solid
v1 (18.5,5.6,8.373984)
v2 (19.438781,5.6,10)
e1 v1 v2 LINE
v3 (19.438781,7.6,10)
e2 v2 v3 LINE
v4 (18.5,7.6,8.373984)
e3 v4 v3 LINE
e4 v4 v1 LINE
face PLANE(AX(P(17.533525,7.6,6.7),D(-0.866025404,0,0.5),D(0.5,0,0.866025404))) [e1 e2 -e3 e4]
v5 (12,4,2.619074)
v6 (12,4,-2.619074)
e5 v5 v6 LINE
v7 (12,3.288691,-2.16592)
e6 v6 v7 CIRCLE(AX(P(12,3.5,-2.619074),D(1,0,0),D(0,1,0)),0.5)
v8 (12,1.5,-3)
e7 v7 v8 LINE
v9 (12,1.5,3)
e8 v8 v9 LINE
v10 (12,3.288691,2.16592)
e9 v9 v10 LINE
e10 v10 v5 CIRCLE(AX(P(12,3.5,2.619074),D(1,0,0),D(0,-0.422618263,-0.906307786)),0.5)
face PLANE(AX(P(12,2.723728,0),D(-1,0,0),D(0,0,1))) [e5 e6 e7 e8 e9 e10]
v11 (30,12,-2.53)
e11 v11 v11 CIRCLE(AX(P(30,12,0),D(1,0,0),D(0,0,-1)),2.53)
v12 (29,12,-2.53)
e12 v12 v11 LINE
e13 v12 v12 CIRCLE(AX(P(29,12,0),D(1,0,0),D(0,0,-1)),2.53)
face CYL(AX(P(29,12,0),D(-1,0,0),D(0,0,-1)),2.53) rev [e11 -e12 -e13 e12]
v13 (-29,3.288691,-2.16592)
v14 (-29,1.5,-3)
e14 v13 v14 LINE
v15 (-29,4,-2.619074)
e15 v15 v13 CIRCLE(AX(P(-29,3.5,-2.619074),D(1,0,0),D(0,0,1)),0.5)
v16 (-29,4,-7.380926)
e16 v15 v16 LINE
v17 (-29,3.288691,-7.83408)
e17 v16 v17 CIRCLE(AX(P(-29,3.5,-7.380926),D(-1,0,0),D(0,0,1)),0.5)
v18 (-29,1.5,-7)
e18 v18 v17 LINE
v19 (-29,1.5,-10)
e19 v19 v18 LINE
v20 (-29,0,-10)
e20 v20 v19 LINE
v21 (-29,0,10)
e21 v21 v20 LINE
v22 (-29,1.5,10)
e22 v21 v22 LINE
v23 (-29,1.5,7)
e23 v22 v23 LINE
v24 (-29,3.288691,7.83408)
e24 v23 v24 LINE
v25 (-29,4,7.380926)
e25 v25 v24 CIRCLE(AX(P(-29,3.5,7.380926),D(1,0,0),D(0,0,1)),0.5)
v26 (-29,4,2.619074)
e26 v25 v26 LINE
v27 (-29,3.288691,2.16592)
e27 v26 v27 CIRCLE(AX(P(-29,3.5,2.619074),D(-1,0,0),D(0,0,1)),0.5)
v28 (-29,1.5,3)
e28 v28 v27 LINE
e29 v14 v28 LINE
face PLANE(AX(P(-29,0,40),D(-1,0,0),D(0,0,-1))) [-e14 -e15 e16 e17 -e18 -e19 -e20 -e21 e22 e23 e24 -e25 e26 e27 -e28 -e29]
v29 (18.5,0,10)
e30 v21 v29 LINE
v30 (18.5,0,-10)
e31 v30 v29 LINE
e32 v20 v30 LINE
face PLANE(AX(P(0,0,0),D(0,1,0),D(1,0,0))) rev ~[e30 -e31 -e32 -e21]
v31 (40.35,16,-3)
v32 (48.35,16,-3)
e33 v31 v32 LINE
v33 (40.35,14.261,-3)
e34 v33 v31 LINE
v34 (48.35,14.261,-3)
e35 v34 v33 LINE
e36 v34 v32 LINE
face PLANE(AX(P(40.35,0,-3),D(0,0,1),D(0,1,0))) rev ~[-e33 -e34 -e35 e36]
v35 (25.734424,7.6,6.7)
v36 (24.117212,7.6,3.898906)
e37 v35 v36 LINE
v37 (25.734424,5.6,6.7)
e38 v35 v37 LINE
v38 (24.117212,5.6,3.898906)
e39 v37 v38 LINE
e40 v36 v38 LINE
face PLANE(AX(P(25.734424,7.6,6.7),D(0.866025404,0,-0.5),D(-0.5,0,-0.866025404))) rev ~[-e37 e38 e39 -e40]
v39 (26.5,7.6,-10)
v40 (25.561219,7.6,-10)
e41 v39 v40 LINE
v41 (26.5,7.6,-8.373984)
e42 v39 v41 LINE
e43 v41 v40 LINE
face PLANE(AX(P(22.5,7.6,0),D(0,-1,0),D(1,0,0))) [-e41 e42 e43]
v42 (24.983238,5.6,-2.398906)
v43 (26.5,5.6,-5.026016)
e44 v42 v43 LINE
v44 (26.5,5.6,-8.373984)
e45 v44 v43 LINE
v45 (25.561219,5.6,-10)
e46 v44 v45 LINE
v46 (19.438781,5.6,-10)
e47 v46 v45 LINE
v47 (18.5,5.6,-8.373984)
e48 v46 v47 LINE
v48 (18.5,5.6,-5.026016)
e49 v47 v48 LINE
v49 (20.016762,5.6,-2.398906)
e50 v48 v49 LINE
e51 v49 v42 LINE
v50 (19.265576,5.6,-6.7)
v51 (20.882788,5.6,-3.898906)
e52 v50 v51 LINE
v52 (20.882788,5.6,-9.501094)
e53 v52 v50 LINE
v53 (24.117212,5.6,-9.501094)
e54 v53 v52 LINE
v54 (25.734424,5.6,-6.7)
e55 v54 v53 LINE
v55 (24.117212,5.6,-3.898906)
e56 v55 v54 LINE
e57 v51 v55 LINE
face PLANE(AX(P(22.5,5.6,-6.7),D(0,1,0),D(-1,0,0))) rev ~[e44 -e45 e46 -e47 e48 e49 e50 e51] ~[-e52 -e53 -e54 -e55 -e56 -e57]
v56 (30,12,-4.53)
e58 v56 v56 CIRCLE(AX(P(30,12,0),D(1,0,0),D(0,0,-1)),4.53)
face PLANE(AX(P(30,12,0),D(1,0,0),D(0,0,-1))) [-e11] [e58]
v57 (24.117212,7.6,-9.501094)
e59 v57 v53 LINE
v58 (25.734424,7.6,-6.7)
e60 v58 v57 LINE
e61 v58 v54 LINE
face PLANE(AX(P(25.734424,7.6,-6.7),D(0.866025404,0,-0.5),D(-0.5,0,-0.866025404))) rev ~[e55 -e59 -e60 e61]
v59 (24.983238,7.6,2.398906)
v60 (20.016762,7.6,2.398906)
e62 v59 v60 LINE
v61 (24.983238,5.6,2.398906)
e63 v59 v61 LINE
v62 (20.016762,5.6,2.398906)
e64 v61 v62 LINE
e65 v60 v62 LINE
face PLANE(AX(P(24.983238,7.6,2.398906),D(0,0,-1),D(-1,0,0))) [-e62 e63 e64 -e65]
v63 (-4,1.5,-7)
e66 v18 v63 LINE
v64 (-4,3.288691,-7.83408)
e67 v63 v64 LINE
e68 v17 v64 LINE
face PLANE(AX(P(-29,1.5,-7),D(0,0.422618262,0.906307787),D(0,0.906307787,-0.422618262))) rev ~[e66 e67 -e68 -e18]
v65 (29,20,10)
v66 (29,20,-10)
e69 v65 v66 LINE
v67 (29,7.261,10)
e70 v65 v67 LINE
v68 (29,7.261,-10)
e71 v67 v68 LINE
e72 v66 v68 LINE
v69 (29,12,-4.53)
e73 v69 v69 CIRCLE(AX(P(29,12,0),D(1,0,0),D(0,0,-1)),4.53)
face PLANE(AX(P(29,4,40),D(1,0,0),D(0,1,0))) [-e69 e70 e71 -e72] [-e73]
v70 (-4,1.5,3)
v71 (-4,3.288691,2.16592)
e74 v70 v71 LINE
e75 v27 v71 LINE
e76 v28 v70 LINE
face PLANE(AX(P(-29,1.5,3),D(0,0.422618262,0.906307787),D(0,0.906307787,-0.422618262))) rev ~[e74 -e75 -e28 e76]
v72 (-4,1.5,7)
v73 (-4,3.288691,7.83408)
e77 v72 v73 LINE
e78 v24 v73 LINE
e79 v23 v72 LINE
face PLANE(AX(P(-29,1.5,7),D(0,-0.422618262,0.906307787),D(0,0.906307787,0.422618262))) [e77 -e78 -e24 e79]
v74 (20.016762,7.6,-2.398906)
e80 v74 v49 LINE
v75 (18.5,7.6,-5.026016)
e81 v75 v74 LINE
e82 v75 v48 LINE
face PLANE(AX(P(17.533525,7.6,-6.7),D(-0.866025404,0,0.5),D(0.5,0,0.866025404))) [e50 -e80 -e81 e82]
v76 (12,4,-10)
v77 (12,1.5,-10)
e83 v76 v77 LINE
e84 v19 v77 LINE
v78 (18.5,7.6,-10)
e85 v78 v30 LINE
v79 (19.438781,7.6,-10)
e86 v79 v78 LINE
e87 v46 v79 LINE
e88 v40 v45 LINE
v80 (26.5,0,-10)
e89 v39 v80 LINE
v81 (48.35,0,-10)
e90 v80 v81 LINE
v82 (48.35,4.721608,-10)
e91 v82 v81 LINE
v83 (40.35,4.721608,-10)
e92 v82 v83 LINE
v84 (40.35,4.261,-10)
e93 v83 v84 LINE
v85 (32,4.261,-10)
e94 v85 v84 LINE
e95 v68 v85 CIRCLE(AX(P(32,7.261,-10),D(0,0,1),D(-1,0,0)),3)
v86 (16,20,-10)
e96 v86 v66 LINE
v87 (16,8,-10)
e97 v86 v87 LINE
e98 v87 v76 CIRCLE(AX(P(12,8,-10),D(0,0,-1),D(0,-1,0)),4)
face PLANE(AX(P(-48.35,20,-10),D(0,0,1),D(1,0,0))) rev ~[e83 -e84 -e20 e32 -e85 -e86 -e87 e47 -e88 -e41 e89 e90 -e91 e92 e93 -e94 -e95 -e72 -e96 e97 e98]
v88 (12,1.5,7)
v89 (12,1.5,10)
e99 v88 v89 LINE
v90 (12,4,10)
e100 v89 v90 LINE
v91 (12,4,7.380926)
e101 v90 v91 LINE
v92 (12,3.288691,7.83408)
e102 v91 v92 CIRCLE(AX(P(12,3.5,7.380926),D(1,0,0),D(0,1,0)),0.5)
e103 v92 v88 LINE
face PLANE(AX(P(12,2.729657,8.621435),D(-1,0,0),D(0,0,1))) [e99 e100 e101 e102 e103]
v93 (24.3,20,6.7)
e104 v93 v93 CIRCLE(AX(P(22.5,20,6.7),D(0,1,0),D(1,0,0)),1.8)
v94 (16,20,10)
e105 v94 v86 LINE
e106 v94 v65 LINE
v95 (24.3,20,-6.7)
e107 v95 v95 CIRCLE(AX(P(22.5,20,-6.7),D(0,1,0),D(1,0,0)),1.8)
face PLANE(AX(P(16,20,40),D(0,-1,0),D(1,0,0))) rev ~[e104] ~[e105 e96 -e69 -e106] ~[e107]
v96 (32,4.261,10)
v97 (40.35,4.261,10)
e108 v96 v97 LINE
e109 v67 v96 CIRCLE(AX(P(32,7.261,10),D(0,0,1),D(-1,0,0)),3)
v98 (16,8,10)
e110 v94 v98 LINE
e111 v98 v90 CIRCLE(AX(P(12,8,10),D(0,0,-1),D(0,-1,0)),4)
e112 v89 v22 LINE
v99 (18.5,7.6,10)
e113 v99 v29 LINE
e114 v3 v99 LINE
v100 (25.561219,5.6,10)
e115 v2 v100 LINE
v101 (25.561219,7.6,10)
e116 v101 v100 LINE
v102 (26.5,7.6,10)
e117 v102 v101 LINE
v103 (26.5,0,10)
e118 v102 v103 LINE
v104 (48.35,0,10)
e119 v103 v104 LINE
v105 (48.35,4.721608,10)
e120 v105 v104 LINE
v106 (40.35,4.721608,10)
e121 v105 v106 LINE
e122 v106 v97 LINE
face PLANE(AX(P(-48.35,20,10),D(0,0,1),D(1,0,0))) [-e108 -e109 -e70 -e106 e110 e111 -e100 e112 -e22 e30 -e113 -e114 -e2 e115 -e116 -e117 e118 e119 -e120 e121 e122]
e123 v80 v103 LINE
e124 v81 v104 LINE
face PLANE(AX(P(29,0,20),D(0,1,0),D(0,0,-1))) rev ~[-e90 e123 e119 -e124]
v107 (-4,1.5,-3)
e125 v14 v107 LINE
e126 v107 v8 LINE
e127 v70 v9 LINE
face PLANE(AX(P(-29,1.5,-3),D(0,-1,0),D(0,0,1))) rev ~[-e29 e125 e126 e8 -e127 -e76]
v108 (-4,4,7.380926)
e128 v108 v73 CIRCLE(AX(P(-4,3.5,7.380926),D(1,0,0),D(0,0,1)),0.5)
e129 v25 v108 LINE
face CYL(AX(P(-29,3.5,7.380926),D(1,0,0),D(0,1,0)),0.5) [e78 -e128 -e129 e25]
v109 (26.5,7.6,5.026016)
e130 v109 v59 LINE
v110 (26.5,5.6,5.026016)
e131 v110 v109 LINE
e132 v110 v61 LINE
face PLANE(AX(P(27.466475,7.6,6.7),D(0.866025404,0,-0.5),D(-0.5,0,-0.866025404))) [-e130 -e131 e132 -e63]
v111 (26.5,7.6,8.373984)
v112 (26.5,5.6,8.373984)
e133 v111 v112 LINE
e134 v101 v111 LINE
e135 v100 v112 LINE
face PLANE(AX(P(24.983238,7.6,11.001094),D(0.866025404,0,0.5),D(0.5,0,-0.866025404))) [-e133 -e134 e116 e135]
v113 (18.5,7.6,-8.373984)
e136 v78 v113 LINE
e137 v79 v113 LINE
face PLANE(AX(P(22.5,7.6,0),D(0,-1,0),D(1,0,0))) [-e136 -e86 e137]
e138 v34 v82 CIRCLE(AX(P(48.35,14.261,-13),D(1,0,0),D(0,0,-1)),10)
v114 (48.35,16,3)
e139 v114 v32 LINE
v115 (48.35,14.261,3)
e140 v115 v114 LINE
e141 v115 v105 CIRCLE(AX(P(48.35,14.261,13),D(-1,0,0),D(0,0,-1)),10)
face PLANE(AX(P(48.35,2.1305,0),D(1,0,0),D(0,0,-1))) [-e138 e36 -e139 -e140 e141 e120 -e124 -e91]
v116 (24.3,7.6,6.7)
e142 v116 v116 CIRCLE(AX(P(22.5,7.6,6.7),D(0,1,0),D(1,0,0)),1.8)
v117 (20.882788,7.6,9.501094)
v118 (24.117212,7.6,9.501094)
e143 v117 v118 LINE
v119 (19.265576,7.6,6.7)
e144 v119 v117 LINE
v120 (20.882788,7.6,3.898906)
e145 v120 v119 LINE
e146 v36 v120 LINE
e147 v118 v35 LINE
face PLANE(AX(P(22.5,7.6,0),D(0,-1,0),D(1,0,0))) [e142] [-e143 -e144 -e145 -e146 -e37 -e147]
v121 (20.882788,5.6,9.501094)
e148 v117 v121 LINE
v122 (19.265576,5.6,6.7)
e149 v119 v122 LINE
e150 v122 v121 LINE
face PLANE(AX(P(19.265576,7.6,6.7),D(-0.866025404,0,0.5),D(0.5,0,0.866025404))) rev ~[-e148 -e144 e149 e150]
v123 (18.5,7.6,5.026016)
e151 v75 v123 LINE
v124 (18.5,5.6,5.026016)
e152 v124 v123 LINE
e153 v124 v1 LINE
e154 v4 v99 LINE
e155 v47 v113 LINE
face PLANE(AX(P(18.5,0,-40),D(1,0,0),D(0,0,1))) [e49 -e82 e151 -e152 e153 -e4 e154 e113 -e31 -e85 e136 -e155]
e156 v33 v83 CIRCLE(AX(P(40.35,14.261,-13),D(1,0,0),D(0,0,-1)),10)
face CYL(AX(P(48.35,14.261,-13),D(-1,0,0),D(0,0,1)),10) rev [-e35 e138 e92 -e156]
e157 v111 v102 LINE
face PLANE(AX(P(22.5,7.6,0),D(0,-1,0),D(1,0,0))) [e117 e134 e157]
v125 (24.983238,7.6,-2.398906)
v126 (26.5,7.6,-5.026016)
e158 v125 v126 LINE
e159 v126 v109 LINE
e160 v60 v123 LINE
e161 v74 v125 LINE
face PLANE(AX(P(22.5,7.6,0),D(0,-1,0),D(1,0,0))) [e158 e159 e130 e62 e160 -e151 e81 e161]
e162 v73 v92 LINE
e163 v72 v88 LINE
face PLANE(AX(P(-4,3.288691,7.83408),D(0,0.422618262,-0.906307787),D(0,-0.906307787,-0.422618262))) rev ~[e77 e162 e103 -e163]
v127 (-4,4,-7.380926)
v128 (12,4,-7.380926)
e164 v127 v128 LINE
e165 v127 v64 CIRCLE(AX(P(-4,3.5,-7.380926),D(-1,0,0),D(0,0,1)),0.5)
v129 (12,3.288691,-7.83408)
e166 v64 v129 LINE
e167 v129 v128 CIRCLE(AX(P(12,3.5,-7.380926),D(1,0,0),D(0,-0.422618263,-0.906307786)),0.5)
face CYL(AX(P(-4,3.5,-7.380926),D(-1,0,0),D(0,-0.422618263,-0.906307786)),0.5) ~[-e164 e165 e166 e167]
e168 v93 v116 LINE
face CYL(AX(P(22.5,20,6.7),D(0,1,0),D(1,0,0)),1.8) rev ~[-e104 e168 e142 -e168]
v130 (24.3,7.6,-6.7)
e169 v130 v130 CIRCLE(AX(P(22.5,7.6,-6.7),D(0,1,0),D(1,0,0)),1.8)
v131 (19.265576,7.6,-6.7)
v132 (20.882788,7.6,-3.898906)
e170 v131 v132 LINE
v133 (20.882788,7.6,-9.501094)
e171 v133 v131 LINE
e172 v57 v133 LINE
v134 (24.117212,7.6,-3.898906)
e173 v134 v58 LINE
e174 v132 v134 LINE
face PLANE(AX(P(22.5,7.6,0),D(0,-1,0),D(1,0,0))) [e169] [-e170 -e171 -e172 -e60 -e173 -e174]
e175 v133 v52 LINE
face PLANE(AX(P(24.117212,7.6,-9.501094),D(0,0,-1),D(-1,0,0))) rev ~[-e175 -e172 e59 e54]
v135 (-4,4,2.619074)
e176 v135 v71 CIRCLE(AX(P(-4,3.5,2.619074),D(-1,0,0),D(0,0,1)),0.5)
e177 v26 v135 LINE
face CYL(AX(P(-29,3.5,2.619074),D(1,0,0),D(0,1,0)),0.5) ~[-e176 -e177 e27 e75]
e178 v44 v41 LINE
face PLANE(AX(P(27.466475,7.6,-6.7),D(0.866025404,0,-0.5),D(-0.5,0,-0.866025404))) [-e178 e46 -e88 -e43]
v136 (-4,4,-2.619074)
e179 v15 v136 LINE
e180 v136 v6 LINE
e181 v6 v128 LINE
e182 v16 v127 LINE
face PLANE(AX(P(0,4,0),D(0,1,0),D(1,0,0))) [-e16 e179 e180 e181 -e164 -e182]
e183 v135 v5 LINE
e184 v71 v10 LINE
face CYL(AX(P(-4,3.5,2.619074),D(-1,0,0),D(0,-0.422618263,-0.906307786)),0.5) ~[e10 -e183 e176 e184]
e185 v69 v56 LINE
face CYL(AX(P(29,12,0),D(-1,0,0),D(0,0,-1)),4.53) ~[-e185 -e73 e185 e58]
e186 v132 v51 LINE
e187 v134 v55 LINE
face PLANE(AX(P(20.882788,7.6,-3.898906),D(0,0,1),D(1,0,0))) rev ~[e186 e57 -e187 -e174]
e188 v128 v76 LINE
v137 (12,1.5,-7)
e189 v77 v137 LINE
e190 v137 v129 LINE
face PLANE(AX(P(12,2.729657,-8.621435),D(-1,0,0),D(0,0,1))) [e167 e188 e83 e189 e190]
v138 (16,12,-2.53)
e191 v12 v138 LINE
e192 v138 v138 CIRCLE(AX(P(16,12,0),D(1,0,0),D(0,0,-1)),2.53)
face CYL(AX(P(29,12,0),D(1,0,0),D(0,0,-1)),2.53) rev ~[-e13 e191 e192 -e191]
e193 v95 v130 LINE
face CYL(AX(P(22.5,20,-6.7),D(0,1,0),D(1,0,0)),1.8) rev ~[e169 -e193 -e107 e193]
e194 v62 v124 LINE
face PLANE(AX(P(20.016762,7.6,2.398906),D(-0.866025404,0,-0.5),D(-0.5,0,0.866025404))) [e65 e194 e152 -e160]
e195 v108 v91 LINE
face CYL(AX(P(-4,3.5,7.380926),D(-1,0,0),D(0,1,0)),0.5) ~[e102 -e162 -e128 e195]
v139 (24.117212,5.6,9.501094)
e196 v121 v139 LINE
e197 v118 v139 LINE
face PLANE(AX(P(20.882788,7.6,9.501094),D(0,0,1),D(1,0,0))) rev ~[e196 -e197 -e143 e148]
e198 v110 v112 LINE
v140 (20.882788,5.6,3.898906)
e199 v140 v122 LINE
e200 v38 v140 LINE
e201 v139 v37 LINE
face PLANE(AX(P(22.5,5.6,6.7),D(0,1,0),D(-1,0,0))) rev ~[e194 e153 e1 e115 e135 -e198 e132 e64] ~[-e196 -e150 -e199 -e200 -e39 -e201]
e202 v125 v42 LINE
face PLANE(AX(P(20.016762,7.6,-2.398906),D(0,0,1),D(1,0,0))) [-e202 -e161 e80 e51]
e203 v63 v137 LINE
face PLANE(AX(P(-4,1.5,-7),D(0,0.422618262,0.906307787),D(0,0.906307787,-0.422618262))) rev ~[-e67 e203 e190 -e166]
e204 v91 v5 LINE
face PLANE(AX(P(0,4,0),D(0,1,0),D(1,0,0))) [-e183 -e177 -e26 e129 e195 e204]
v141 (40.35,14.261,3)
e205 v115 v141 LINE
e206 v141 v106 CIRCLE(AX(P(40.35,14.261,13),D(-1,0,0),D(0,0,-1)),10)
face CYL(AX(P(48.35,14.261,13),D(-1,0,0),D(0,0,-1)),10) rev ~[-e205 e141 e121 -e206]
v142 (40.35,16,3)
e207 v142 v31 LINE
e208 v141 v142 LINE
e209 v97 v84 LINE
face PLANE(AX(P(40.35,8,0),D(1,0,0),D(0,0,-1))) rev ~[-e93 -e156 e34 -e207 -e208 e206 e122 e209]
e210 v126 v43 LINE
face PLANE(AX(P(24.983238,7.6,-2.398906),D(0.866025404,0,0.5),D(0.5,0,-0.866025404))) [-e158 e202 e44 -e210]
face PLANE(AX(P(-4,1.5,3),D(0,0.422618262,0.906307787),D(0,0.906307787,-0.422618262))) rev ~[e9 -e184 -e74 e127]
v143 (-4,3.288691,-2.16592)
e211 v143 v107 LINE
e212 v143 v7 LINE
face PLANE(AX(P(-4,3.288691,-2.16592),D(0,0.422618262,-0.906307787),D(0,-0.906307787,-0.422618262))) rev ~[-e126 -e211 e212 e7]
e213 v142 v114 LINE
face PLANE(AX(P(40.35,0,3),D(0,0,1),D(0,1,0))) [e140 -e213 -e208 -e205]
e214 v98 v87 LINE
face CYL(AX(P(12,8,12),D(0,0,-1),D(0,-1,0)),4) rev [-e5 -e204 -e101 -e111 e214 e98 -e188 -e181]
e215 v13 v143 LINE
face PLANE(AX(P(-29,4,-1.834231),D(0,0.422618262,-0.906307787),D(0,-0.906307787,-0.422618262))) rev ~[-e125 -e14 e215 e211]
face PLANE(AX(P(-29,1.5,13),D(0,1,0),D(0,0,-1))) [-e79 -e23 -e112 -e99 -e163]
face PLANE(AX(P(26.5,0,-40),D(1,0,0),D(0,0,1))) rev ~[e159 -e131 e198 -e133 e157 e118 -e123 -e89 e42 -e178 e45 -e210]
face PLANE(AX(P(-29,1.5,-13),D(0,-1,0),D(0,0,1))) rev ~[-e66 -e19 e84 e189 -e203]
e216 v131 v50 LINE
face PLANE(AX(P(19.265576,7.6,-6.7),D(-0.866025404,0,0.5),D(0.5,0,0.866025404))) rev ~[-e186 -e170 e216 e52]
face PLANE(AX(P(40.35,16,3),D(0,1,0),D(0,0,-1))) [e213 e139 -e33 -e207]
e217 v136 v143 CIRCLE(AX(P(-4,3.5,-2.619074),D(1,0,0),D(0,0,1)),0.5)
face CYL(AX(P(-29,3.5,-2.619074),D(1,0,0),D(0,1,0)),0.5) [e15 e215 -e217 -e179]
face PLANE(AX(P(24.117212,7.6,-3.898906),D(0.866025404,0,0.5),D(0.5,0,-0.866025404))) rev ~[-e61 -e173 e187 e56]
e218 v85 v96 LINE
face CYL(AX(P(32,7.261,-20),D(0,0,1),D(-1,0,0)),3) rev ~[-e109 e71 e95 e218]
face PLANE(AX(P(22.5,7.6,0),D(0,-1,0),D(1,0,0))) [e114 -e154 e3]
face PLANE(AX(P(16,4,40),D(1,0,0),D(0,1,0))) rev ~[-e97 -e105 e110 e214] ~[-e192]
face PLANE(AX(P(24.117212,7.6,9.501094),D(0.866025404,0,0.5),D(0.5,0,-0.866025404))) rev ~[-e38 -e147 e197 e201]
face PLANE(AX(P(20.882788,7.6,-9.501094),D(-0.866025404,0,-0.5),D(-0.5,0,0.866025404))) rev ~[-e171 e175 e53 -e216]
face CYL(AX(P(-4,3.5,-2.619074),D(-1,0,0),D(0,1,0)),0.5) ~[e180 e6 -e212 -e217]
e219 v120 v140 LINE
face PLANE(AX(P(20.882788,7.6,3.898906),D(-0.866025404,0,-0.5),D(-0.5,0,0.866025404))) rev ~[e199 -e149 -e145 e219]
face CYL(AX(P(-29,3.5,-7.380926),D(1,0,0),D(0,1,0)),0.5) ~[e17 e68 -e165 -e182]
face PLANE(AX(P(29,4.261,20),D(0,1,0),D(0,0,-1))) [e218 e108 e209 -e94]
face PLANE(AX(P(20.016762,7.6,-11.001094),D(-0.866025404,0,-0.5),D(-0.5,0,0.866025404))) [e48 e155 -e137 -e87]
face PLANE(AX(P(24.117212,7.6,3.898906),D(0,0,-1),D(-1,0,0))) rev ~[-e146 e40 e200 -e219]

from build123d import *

# Parameters (mm, degrees)
SKETCH1_W            = 58
SKETCH1_H            = 80
BOSS_EXTRUDE1_DEPTH  = 4
CUT_EXTRUDE1_DEPTH   = 25
SKETCH5_W            = 13
SKETCH5_H            = 16
BOSS_EXTRUDE3_DEPTH  = 80
SKETCH6_R            = 2.53
CUT_EXTRUDE2_DEPTH   = 59
SKETCH7_R            = 4.53
SKETCH7_R_2          = 2.53
BOSS_EXTRUDE4_DEPTH  = 1
SKETCH8_R            = 1.8
CUT_EXTRUDE3_DEPTH   = 21
SKETCH9_W            = 8
SKETCH9_H            = 80
CUT_EXTRUDE4_DEPTH   = 7.6
SKETCH13_W           = 6
SKETCH13_H           = 4.261
BOSS_EXTRUDE6_DEPTH  = 11.35
SKETCH14_W           = 6
SKETCH14_H           = 16
BOSS_EXTRUDE7_DEPTH  = 8
SKETCH15_W           = 40
SKETCH15_H           = 4.261
BOSS_EXTRUDE8_DEPTH  = 19.35
FILLET1_R            = 10
FILLET2_R            = 3
FILLET3_R            = 3
SKETCH17_W           = 17
SKETCH17_H           = 24
CUT_EXTRUDE6_DEPTH   = 5
FILLET4_R            = 14
FILLET5_R            = 4
FILLET6_R            = 2
FILLET7_R            = 0.5
BOSS_EXTRUDE10_DEPTH = 2
SKETCH19_W           = 58
SKETCH19_H           = 5.571501033
SKETCH19_H_2         = 14.101029475
CUT_EXTRUDE7_DEPTH   = 21
SKETCH20_W           = 96.7
SKETCH20_H           = 30
CUT_EXTRUDE8_DEPTH   = 21.0000001
CUT_EXTRUDE9_DEPTH   = 16


with BuildPart() as part:
    # Sketch1 → Boss-Extrude1 (new body)
    with BuildSketch(Plane(origin=(0, 0, 0), x_dir=(1, 0, 0), z_dir=(0, 1, 0))):
        Rectangle(SKETCH1_W, SKETCH1_H)
    extrude(amount=BOSS_EXTRUDE1_DEPTH)

    # Sketch2 → Cut-Extrude1 (cut)
    with BuildSketch(Plane.ZY.offset(29)):
        Polygon((1.834230855, 4), (-1.834230855, 4), (-3, 1.5), (3, 1.5), align=None)
        Polygon((8.165769145, 4), (11.834230855, 4), (13, 1.5), (7, 1.5), align=None)
        Polygon((-7, 1.5), (-8.165769145, 4), (-11.834230855, 4), (-13, 1.5), align=None)
    extrude(amount=-CUT_EXTRUDE1_DEPTH, mode=Mode.SUBTRACT)

    # Sketch5 → Boss-Extrude3 (add)
    with BuildSketch(Plane.XY.offset(40)):
        with Locations((22.5, 12)):
            Rectangle(SKETCH5_W, SKETCH5_H)
    extrude(amount=-BOSS_EXTRUDE3_DEPTH)

    # Sketch6 → Cut-Extrude2 (cut, through all)
    with BuildSketch(Plane(origin=(29, 0, 0), x_dir=(0, 0, -1), z_dir=(1, 0, 0))):
        with Locations((0, 12)):
            Circle(SKETCH6_R)
    extrude(amount=-CUT_EXTRUDE2_DEPTH, mode=Mode.SUBTRACT)

    # Sketch7 → Boss-Extrude4 (add)
    with BuildSketch(Plane(origin=(29, 0, 0), x_dir=(0, 0, -1), z_dir=(1, 0, 0))):
        with Locations((0, 12)):
            Circle(SKETCH7_R)
        with Locations((0, 12)):
            Circle(SKETCH7_R_2, mode=Mode.SUBTRACT)
    extrude(amount=BOSS_EXTRUDE4_DEPTH)

    # Sketch8 → Cut-Extrude3 (cut, through all)
    with BuildSketch(Plane(origin=(0, 20, 0), x_dir=(1, 0, 0), z_dir=(0, 1, 0))):
        with Locations((22.5, 6.7)):
            Circle(SKETCH8_R)
        with Locations((22.5, -6.7)):
            Circle(SKETCH8_R)
    extrude(amount=-CUT_EXTRUDE3_DEPTH, mode=Mode.SUBTRACT)

    # Sketch9 → Cut-Extrude4 (cut)
    with BuildSketch(Plane.XZ):
        with Locations((22.5, 0)):
            Rectangle(SKETCH9_W, SKETCH9_H)
    extrude(amount=-CUT_EXTRUDE4_DEPTH, mode=Mode.SUBTRACT)

    # Sketch13 → Boss-Extrude6 (add)
    with BuildSketch(Plane(origin=(29, 0, 0), x_dir=(0, 0, -1), z_dir=(1, 0, 0))):
        with Locations((0, 2.1305)):
            Rectangle(SKETCH13_W, SKETCH13_H)
    extrude(amount=BOSS_EXTRUDE6_DEPTH)

    # Sketch14 → Boss-Extrude7 (add)
    with BuildSketch(Plane(origin=(40.35, 0, 0), x_dir=(0, 0, -1), z_dir=(1, 0, 0))):
        with Locations((0, 8)):
            Rectangle(SKETCH14_W, SKETCH14_H)
    extrude(amount=BOSS_EXTRUDE7_DEPTH)

    # Sketch15 → Boss-Extrude8 (add)
    with BuildSketch(Plane(origin=(29, 0, 0), x_dir=(0, 0, -1), z_dir=(1, 0, 0))):
        with Locations((0, 2.1305)):
            Rectangle(SKETCH15_W, SKETCH15_H)
    extrude(amount=BOSS_EXTRUDE8_DEPTH)

    # Fillet1
    fillet1_edges = [part.edges().sort_by_distance(p)[0] for p in [
        (44.35, 4.261, 3),
        (44.35, 4.261, -3),
    ]]
    fillet(fillet1_edges, radius=FILLET1_R)

    # Fillet2
    fillet2_edges = [part.edges().sort_by_distance(p)[0] for p in [
        (29, 4.261, 0),
    ]]
    fillet(fillet2_edges, radius=FILLET2_R)

    # Fillet3
    fillet3_edges = [part.edges().sort_by_distance(p)[0] for p in [
        (29, 2.1305, -20),
        (29, 2.1305, 20),
    ]]
    fillet(fillet3_edges, radius=FILLET3_R)

    # Sketch17 → Cut-Extrude6 (cut, through all)
    with BuildSketch(Plane(origin=(0, 4, 0), x_dir=(1, 0, 0), z_dir=(0, 1, 0))):
        with Locations((7.5, -24)):
            Rectangle(SKETCH17_W, SKETCH17_H)
        with Locations((7.5, 24)):
            Rectangle(SKETCH17_W, SKETCH17_H)
    extrude(amount=-CUT_EXTRUDE6_DEPTH, mode=Mode.SUBTRACT)

    # Fillet4
    fillet4_edges = [part.edges().sort_by_distance(p)[0] for p in [
        (16, 4, 38),
        (16, 4, -38),
    ]]
    fillet(fillet4_edges, radius=FILLET4_R)

    # Fillet5
    fillet5_edges = [part.edges().sort_by_distance(p)[0] for p in [
        (16, 4, 0),
    ]]
    fillet(fillet5_edges, radius=FILLET5_R)

    # Fillet6
    fillet6_edges = [part.edges().sort_by_distance(p)[0] for p in [
        (16, 6, 12),
        (16, 11, 36),
        (16, 11, -36),
        (16, 6, -12),
    ]]
    fillet(fillet6_edges, radius=FILLET6_R)

    # Fillet7
    fillet7_edges = [part.edges().sort_by_distance(p)[0] for p in [
        (-16.5, 4, -11.834230855),
        (-16.5, 4, -8.165769145),
        (-16.5, 4, 8.165769145),
        (-16.5, 4, 11.834230855),
        (-16.5, 4, 1.834230855),
        (-16.5, 4, -1.834230855),
    ]]
    fillet(fillet7_edges, radius=FILLET7_R)

    # Sketch18 → Boss-Extrude10 (add)
    with BuildSketch(Plane.XZ.offset(-7.6)):
        Polygon((20.016762412, 40.30109367), (24.983237588, 40.30109367), (27.466475177, 36), (24.983237588, 31.69890633), (20.016762412, 31.69890633), (17.533524823, 36), align=None)
        Polygon((20.882787815, 38.80109367), (24.117212185, 38.80109367), (25.734424369, 36), (24.117212185, 33.19890633), (20.882787815, 33.19890633), (19.265575631, 36), align=None, mode=Mode.SUBTRACT)
        Polygon((20.016762412, 11.00109367), (24.983237588, 11.00109367), (27.466475177, 6.7), (24.983237588, 2.39890633), (20.016762412, 2.39890633), (17.533524823, 6.7), align=None)
        Polygon((20.882787815, 9.50109367), (24.117212185, 9.50109367), (25.734424369, 6.7), (24.117212185, 3.89890633), (20.882787815, 3.89890633), (19.265575631, 6.7), align=None, mode=Mode.SUBTRACT)
        Polygon((20.016762412, -2.39890633), (24.983237588, -2.39890633), (27.466475177, -6.7), (24.983237588, -11.00109367), (20.016762412, -11.00109367), (17.533524823, -6.7), align=None)
        Polygon((20.882787815, -3.89890633), (24.117212185, -3.89890633), (25.734424369, -6.7), (24.117212185, -9.50109367), (20.882787815, -9.50109367), (19.265575631, -6.7), align=None, mode=Mode.SUBTRACT)
        Polygon((20.016762412, -31.69890633), (24.983237588, -31.69890633), (27.466475177, -36), (24.983237588, -40.30109367), (20.016762412, -40.30109367), (17.533524823, -36), align=None)
        Polygon((20.882787815, -33.19890633), (24.117212185, -33.19890633), (25.734424369, -36), (24.117212185, -38.80109367), (20.882787815, -38.80109367), (19.265575631, -36), align=None, mode=Mode.SUBTRACT)
    extrude(amount=BOSS_EXTRUDE10_DEPTH)

    # Sketch19 → Cut-Extrude7 (cut, through all)
    with BuildSketch(Plane.XZ):
        with Locations((0, -42.785750517)):
            Rectangle(SKETCH19_W, SKETCH19_H)
        with Locations((0, 47.050514738)):
            Rectangle(SKETCH19_W, SKETCH19_H_2)
    extrude(amount=-CUT_EXTRUDE7_DEPTH, mode=Mode.SUBTRACT)

    # Sketch20 → Cut-Extrude8 (cut, through all)
    with BuildSketch(Plane(origin=(0, 20, 0), x_dir=(1, 0, 0), z_dir=(0, 1, 0))):
        with Locations((0, 25)):
            Rectangle(SKETCH20_W, SKETCH20_H)
        with Locations((0, -25)):
            Rectangle(SKETCH20_W, SKETCH20_H)
    extrude(amount=-CUT_EXTRUDE8_DEPTH, mode=Mode.SUBTRACT)

    # Sketch22 → Cut-Extrude9 (cut)
    with BuildSketch(Plane.ZY.offset(4)):
        with BuildLine():
            Line((-10, 4), (-10, 1.5))
            Line((-10, 1.5), (-7, 1.5))
            Line((-7, 1.5), (-7.83408025, 3.288690869))
            ThreePointArc((-7.83408025, 3.288690869), (-7.80262208, 3.768649804), (-7.380926357, 4))
            Line((-7.380926357, 4), (-10, 4))
        make_face()
        with BuildLine():
            Line((3, 1.5), (2.16591975, 3.288690869))
            ThreePointArc((2.16591975, 3.288690869), (2.19737792, 3.768649804), (2.619073643, 4))
            Line((2.619073643, 4), (-2.619073643, 4))
            ThreePointArc((-2.619073643, 4), (-2.19737792, 3.768649804), (-2.16591975, 3.288690869))
            Line((-2.16591975, 3.288690869), (-3, 1.5))
            Line((-3, 1.5), (3, 1.5))
        make_face()
        with BuildLine():
            Line((7, 1.5), (10, 1.5))
            Line((10, 1.5), (10, 4))
            Line((10, 4), (7.380926357, 4))
            ThreePointArc((7.380926357, 4), (7.80262208, 3.768649804), (7.83408025, 3.288690869))
            Line((7.83408025, 3.288690869), (7, 1.5))
        make_face()
    extrude(amount=-CUT_EXTRUDE9_DEPTH, mode=Mode.SUBTRACT)


solid = part.part
